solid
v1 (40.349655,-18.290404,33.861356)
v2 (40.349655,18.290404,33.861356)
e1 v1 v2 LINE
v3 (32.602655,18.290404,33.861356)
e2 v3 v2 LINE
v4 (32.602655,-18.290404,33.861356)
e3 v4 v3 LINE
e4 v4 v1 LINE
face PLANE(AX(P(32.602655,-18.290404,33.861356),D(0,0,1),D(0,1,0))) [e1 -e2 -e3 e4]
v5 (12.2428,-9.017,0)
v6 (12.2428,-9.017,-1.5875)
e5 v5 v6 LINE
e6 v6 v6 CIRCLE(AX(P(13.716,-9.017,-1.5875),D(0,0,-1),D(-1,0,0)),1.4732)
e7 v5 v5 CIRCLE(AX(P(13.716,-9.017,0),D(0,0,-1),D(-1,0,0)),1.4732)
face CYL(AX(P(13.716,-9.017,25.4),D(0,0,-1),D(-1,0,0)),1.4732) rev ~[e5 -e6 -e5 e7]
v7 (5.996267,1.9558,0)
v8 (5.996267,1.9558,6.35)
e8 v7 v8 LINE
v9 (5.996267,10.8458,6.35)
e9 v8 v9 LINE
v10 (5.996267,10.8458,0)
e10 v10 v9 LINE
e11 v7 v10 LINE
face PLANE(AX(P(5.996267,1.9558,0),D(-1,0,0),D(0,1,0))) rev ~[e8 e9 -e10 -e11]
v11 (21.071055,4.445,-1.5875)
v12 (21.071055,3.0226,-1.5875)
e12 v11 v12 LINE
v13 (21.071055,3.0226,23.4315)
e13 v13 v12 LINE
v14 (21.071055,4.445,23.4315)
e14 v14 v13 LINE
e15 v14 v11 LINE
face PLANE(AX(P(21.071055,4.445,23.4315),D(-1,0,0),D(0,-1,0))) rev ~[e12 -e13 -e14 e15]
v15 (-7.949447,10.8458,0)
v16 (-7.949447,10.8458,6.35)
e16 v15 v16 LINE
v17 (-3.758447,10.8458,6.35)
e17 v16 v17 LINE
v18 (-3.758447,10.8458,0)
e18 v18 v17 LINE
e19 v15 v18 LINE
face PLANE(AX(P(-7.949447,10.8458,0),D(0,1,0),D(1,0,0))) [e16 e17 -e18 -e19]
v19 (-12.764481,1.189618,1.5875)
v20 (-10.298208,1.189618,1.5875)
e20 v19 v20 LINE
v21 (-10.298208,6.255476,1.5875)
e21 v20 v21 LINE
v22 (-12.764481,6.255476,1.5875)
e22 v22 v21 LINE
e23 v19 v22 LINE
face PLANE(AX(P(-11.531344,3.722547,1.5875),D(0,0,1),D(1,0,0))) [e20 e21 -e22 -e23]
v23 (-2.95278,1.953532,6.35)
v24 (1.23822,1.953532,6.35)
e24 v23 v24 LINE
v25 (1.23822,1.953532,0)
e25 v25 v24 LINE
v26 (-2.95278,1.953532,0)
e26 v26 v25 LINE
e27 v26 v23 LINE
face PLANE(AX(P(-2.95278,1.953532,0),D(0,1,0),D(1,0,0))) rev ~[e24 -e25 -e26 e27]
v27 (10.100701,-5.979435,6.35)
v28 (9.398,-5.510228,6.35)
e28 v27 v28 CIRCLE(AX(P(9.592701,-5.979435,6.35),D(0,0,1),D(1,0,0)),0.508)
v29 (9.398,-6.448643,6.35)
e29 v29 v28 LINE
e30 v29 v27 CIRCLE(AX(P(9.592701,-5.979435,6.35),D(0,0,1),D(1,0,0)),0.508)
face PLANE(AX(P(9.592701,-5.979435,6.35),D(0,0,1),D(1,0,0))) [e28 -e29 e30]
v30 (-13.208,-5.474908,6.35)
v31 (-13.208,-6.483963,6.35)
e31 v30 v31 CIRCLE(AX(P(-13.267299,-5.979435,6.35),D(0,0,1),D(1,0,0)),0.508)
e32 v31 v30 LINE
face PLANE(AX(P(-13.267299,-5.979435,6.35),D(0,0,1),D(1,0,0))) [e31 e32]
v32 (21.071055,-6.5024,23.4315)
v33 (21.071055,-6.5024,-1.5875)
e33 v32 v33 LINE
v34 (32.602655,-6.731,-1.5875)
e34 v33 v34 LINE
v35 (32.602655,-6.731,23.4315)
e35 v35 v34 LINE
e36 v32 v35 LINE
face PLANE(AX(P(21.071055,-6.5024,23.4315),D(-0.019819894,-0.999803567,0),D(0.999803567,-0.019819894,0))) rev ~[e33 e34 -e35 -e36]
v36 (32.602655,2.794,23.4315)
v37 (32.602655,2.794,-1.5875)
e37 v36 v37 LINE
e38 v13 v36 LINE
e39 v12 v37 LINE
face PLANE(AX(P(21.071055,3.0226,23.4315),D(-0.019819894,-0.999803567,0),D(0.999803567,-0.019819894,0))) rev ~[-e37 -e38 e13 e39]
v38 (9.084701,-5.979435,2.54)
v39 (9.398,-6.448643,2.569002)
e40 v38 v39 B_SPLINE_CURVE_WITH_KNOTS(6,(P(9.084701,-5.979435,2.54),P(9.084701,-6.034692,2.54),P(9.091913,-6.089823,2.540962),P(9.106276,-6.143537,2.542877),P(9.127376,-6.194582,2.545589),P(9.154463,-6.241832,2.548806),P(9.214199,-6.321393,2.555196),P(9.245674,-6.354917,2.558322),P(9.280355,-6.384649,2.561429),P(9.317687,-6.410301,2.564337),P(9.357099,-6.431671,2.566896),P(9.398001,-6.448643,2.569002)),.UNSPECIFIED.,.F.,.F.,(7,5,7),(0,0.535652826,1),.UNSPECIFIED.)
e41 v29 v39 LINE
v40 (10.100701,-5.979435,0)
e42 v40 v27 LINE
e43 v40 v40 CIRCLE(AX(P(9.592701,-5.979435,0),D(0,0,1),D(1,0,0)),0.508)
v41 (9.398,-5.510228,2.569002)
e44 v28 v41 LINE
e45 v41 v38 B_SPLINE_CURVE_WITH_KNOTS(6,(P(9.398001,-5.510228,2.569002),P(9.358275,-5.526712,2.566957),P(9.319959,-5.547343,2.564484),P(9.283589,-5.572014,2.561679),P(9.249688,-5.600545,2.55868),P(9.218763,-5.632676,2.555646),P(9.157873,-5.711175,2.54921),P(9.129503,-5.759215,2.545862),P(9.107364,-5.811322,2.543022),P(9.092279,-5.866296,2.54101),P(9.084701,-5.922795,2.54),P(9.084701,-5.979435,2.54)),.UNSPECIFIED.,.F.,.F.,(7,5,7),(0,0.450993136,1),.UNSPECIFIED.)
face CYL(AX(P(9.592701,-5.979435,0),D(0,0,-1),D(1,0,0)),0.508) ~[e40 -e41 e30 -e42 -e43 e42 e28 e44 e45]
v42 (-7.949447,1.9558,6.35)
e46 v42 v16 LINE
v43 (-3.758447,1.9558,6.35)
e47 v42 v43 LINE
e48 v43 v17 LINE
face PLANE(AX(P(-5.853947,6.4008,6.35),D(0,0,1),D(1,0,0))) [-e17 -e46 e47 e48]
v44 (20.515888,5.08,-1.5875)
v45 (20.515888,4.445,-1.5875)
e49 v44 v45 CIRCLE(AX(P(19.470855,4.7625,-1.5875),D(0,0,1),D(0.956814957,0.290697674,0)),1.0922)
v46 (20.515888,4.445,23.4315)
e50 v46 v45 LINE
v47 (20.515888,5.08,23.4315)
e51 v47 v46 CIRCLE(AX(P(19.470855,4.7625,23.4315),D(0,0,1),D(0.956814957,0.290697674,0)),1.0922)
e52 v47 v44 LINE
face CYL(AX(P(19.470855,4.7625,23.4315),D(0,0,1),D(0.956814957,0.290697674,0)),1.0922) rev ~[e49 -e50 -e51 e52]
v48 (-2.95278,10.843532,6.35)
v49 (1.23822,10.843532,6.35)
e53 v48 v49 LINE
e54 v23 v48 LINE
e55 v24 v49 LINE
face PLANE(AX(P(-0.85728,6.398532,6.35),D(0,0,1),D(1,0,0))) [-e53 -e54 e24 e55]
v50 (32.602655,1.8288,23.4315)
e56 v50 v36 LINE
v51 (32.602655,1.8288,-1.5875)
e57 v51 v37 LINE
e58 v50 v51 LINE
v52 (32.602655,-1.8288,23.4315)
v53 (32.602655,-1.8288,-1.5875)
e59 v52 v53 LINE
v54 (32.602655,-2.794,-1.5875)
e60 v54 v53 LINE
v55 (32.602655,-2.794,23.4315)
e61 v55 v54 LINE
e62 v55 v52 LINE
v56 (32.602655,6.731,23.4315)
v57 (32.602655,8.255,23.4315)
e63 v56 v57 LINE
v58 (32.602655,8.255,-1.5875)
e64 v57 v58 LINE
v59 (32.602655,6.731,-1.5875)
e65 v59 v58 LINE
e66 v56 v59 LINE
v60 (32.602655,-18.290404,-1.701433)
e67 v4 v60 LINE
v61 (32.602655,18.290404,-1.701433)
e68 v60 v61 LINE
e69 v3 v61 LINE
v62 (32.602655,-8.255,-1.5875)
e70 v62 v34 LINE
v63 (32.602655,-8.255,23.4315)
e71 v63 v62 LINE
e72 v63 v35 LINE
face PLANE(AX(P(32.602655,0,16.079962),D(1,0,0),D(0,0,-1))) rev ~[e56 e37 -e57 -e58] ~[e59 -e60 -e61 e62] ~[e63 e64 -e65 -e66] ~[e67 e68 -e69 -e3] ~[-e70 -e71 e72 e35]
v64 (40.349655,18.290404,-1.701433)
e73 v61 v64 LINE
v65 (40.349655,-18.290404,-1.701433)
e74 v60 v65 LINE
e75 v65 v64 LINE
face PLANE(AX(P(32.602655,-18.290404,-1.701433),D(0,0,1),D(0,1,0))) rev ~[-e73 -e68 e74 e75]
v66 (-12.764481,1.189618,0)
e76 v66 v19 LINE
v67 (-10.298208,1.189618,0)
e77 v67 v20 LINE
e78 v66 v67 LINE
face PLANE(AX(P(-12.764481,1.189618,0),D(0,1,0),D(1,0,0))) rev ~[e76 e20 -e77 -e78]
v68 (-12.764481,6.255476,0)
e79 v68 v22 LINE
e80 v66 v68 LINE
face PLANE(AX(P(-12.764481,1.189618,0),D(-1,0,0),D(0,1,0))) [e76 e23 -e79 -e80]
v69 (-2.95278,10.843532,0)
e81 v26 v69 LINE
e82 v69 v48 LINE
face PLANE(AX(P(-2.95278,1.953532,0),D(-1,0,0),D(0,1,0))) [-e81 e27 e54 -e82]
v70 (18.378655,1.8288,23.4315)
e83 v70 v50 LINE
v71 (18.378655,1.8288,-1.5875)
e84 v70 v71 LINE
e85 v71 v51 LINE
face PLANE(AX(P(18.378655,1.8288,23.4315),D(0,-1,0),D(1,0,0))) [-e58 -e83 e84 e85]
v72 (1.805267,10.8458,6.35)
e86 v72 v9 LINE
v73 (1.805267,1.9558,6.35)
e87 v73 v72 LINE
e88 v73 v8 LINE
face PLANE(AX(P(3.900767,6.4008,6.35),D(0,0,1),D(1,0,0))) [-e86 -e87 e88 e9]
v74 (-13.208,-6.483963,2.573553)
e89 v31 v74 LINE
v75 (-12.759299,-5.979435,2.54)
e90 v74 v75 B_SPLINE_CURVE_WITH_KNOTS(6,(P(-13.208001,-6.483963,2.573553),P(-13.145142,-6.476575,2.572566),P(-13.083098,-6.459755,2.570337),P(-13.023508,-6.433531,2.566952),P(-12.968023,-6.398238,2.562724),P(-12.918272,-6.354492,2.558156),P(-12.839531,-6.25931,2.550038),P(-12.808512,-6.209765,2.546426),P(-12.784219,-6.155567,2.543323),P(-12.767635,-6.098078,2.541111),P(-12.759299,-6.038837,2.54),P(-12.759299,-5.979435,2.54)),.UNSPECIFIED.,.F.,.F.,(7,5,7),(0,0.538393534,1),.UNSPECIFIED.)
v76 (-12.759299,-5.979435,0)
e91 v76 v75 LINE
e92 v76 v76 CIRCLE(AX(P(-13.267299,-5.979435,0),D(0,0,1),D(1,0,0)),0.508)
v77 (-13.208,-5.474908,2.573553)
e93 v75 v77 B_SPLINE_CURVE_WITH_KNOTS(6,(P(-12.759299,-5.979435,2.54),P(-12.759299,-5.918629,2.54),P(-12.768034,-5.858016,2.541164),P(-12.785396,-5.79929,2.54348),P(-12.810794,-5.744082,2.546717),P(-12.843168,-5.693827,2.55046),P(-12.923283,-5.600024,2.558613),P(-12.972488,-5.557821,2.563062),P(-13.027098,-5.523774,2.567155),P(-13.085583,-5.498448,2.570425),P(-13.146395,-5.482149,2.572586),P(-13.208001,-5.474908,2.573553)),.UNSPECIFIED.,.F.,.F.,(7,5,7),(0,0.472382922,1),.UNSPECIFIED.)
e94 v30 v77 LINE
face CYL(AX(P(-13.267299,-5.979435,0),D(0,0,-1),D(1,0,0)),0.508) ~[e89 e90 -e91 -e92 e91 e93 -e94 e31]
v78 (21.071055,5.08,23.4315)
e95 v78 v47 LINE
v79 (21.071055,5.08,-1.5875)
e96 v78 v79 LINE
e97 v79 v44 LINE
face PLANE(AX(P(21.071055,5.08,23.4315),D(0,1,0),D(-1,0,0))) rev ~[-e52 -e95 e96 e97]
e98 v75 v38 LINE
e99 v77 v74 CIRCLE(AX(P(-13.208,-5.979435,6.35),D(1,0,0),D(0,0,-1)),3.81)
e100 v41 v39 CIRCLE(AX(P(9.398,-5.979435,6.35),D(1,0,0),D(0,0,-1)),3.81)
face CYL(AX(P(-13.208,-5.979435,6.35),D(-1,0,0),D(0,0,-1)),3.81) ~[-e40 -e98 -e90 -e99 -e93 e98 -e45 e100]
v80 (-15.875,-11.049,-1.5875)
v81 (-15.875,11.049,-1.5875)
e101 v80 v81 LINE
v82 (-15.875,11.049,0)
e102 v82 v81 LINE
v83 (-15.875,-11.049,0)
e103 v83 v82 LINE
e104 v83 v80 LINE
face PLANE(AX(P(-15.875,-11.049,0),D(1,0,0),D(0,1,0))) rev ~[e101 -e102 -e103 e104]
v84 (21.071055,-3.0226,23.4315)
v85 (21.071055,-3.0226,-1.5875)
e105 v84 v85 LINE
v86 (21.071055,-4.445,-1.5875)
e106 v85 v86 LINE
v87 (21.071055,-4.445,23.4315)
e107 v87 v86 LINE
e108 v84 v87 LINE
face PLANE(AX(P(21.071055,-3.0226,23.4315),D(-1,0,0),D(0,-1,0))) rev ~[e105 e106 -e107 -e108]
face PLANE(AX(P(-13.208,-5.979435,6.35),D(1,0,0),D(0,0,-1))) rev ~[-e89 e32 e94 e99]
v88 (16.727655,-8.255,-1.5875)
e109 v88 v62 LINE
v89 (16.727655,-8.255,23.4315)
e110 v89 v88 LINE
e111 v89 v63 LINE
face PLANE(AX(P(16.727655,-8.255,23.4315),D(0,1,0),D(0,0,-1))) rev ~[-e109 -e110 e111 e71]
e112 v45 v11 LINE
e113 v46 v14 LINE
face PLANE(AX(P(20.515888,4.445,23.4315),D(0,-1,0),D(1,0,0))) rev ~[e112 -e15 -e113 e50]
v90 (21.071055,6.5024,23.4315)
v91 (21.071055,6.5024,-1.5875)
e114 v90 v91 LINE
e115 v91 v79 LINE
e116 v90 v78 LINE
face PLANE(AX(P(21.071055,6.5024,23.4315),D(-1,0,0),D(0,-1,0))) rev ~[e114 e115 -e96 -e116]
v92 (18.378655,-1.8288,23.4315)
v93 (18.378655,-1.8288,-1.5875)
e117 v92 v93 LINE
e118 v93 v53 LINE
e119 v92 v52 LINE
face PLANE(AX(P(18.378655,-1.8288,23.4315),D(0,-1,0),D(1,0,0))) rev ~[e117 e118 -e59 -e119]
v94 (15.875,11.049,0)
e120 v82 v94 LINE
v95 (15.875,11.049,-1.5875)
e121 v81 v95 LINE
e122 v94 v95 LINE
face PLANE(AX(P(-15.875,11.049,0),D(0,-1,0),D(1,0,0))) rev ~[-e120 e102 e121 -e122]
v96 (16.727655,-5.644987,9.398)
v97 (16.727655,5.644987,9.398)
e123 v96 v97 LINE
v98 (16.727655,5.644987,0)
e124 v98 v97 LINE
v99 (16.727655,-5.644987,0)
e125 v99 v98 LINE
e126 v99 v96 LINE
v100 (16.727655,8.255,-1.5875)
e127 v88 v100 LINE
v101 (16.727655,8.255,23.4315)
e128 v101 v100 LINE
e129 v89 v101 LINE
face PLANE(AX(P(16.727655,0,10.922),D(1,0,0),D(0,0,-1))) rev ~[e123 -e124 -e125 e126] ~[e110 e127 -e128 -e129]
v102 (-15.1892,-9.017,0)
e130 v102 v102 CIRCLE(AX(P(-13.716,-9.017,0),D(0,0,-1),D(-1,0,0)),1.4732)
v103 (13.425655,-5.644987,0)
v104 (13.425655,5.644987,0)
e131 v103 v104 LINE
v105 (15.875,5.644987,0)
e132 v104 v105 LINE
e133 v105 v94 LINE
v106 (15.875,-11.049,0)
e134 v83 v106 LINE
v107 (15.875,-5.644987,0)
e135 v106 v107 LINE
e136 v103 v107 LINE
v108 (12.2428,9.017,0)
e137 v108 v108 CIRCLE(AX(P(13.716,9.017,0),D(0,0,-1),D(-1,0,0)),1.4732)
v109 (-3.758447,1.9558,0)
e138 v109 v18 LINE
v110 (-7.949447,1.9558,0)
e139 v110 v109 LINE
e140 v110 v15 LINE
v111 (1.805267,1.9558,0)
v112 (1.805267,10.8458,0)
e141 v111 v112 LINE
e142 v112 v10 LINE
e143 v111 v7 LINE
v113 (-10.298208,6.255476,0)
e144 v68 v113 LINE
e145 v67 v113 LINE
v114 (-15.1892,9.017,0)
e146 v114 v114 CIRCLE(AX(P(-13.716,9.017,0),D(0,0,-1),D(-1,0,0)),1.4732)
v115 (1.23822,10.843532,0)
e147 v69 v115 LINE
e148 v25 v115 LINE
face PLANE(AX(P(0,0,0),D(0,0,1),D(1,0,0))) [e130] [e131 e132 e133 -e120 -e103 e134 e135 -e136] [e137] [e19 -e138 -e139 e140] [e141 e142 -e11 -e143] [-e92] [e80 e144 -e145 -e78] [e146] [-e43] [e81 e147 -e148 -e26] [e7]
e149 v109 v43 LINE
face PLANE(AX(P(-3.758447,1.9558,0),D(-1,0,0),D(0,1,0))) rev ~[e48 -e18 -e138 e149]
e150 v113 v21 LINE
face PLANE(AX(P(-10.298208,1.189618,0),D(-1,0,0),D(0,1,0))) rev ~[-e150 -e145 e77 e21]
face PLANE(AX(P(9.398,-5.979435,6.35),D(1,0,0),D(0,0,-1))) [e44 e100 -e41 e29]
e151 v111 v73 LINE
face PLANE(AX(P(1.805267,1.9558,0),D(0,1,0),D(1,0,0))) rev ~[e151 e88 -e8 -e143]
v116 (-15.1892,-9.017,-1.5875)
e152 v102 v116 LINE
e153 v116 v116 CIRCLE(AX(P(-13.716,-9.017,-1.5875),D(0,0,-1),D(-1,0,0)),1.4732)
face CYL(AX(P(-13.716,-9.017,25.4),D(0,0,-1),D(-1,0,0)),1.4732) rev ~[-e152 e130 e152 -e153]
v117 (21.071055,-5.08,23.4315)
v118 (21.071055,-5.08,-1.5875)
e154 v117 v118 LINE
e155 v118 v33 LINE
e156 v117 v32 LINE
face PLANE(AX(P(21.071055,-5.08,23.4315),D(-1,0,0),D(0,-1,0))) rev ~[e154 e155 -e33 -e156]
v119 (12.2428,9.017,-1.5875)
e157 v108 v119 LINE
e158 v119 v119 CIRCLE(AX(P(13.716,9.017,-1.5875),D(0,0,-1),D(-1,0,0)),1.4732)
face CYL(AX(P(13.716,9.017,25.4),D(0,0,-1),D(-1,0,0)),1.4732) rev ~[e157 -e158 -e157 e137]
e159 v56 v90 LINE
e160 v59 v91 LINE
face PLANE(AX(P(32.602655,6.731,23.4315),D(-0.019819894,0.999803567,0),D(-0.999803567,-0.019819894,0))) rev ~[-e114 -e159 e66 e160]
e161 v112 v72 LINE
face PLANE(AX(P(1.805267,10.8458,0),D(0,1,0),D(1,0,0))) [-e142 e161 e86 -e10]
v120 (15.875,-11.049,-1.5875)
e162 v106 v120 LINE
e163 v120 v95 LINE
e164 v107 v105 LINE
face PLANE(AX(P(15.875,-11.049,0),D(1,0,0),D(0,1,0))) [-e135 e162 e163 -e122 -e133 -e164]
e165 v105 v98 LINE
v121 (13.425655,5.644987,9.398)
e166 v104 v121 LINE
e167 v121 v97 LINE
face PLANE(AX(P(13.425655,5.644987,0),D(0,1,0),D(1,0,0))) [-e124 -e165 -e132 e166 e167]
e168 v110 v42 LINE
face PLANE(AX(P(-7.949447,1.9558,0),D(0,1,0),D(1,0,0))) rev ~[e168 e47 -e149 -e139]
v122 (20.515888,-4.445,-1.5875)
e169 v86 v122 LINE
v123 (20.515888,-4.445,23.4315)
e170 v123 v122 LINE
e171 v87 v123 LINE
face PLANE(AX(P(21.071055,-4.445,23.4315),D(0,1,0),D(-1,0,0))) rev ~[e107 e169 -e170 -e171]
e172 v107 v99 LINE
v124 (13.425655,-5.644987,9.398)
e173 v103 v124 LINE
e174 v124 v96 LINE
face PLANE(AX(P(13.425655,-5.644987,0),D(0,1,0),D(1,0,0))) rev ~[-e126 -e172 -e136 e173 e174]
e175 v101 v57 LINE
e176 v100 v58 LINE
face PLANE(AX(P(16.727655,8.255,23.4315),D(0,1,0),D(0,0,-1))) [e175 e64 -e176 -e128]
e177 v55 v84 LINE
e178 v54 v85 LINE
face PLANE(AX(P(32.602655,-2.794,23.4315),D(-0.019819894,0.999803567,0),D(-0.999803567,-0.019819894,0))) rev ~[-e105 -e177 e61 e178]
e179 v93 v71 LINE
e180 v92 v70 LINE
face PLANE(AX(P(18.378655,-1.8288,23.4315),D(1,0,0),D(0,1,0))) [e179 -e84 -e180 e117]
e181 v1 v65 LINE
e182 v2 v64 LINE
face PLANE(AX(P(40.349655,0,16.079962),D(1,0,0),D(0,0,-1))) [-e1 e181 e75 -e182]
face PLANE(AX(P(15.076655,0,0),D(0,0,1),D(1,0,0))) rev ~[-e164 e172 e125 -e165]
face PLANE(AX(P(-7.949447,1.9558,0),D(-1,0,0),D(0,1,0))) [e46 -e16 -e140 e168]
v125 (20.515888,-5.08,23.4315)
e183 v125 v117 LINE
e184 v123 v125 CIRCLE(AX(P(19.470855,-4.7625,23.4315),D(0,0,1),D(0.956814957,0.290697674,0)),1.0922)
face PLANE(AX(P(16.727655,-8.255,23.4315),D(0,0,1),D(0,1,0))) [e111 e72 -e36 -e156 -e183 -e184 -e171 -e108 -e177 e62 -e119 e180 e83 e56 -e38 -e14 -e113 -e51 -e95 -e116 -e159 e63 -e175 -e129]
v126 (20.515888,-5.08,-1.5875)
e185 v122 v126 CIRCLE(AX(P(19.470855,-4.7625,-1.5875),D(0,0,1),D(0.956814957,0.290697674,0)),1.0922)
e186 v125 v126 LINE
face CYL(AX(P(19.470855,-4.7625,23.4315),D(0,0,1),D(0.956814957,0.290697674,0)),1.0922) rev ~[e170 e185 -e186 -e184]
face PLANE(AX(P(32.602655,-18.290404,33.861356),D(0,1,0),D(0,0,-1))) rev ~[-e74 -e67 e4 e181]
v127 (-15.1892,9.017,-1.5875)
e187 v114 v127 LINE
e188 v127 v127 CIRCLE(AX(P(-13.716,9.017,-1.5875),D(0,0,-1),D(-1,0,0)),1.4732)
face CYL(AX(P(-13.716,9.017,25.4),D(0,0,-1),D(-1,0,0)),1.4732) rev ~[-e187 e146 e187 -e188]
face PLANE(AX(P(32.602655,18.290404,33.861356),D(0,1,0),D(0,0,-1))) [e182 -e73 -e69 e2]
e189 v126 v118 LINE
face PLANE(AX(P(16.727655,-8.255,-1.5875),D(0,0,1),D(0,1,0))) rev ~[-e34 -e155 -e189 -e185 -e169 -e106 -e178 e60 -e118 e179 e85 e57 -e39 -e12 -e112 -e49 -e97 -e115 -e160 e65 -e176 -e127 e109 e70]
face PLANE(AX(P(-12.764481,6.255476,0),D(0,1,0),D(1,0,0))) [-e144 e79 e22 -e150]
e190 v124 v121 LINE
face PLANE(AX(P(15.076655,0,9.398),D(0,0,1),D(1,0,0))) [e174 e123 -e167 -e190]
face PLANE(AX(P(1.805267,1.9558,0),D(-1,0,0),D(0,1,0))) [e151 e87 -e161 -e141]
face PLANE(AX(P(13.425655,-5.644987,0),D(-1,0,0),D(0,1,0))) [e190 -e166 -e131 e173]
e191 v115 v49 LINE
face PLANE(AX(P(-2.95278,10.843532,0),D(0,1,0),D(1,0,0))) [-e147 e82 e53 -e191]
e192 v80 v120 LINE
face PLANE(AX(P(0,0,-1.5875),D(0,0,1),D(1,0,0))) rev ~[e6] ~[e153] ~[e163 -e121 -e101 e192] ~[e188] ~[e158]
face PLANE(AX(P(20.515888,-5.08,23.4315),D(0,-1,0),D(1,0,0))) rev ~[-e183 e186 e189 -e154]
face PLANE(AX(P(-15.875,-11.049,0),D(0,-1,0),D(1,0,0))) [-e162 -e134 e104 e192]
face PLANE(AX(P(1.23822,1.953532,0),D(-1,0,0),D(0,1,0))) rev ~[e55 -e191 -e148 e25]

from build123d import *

# Parameters (mm, degrees)
SKETCH1_W                       = 31.75
SKETCH1_H                       = 22.098
BOSS_EXTRUDE1_DEPTH             = 1.5875
F_32_0_116_DIAMETER_HOLE1_D     = 2.9464
F_32_0_116_DIAMETER_HOLE1_DEPTH = 25.4
F_32_0_116_DIAMETER_HOLE1_TIP   = 0.885187864
SKETCH4_W                       = 4.191
SKETCH4_H                       = 8.89
BOSS_EXTRUDE2_DEPTH             = 6.35
SKETCH4_3_W                     = 2.466272753
SKETCH4_3_H                     = 5.065857547
BOSS_EXTRUDE3_DEPTH             = 1.5875
SKETCH4_4_R                     = 0.508
BOSS_EXTRUDE4_DEPTH             = 6.35
BOSS_EXTRUDE5_DEPTH             = 9.398
BOSS_EXTRUDE5_DEPTH_BACK        = 13.208
SKETCH5_R                       = 3.81
SKETCH6_W                       = 3.302
SKETCH6_H                       = 11.289974084
BOSS_EXTRUDE6_DEPTH             = 9.398
SKETCH8_W                       = 25.019
SKETCH8_H                       = 16.51
BOSS_EXTRUDE7_DEPTH             = 15.875
SKETCH9_W                       = 14.224
SKETCH9_H                       = 3.6576
CUT_EXTRUDE1_DEPTH              = 43.555420887
SKETCH10_W                      = 35.562788841
SKETCH10_H                      = 36.580807606
BOSS_EXTRUDE8_DEPTH             = 7.747


with BuildPart() as part:
    # Sketch1 → Boss-Extrude1 (new body)
    with BuildSketch(Plane.XY):
        Rectangle(SKETCH1_W, SKETCH1_H)
    extrude(amount=-BOSS_EXTRUDE1_DEPTH)

    # #32 (0.116) Diameter Hole1
    with Locations(Plane.XY):
        with Locations((-13.716, 9.017), (13.716, -9.017), (13.716, 9.017), (-13.716, -9.017)):
            Hole(F_32_0_116_DIAMETER_HOLE1_D / 2, depth=F_32_0_116_DIAMETER_HOLE1_DEPTH)
            with Locations((0, 0, -(F_32_0_116_DIAMETER_HOLE1_DEPTH + F_32_0_116_DIAMETER_HOLE1_TIP / 2))):  # 118° drill point
                Cone(0, F_32_0_116_DIAMETER_HOLE1_D / 2, F_32_0_116_DIAMETER_HOLE1_TIP, mode=Mode.SUBTRACT)

    # Sketch4 → Boss-Extrude2 (add)
    with BuildSketch(Plane.XY):
        with Locations((-0.857280044, 6.398532258)):
            Rectangle(SKETCH4_W, SKETCH4_H)
        with Locations((-5.853947096, 6.4008)):
            Rectangle(SKETCH4_W, SKETCH4_H)
        with Locations((3.90076693, 6.4008)):
            Rectangle(SKETCH4_W, SKETCH4_H)
    extrude(amount=BOSS_EXTRUDE2_DEPTH)

    # Sketch4<3> → Boss-Extrude3 (add)
    with BuildSketch(Plane.XY):
        with Locations((-11.531344325, 3.722546838)):
            Rectangle(SKETCH4_3_W, SKETCH4_3_H)
    extrude(amount=BOSS_EXTRUDE3_DEPTH)

    # Sketch4<4> → Boss-Extrude4 (add)
    with BuildSketch(Plane.XY):
        with Locations((9.592700785, -5.979435424)):
            Circle(SKETCH4_4_R)
        with Locations((-13.267299215, -5.979435424)):
            Circle(SKETCH4_4_R)
    extrude(amount=BOSS_EXTRUDE4_DEPTH)

    # Sketch5 → Boss-Extrude5 (add, two sides: drawn at the far end of the back side and taken through both)
    with BuildSketch(Plane(origin=(0, 0, 0), x_dir=(0, 0, -1), z_dir=(1, 0, 0)).offset(-BOSS_EXTRUDE5_DEPTH_BACK)):
        with Locations((-6.35, -5.979435424)):
            Circle(SKETCH5_R)
    extrude(amount=BOSS_EXTRUDE5_DEPTH + BOSS_EXTRUDE5_DEPTH_BACK)

    # Sketch6 → Boss-Extrude6 (add)
    with BuildSketch(Plane.XY):
        with Locations((15.076654567, 0)):
            Rectangle(SKETCH6_W, SKETCH6_H)
    extrude(amount=BOSS_EXTRUDE6_DEPTH)

    # Sketch8 → Boss-Extrude7 (add)
    with BuildSketch(Plane(origin=(16.727654567, 0, 0), x_dir=(0, 0, -1), z_dir=(1, 0, 0))):
        with Locations((-10.922, 0)):
            Rectangle(SKETCH8_W, SKETCH8_H)
    extrude(amount=BOSS_EXTRUDE7_DEPTH)

    # Sketch9 → Cut-Extrude1 (cut, through all)
    with BuildSketch(Plane.XY.offset(23.4315)):
        with BuildLine():
            Line((21.071054567, 3.0226), (32.602654567, 2.794))
            Line((32.602654567, 2.794), (32.602654567, 6.731))
            Line((32.602654567, 6.731), (21.071054567, 6.5024))
            Line((21.071054567, 6.5024), (21.071054567, 5.08))
            Line((21.071054567, 5.08), (20.515887863, 5.08))
            ThreePointArc((20.515887863, 5.08), (18.378654567, 4.7625), (20.515887863, 4.445))
            Line((20.515887863, 4.445), (21.071054567, 4.445))
            Line((21.071054567, 4.445), (21.071054567, 3.0226))
        make_face()
        with BuildLine():
            Line((32.602654567, -6.731), (32.602654567, -2.794))
            Line((32.602654567, -2.794), (21.071054567, -3.0226))
            Line((21.071054567, -3.0226), (21.071054567, -4.445))
            Line((21.071054567, -4.445), (20.515887863, -4.445))
            ThreePointArc((20.515887863, -4.445), (18.378654567, -4.7625), (20.515887863, -5.08))
            Line((20.515887863, -5.08), (21.071054567, -5.08))
            Line((21.071054567, -5.08), (21.071054567, -6.5024))
            Line((21.071054567, -6.5024), (32.602654567, -6.731))
        make_face()
        with Locations((25.490654567, 0)):
            Rectangle(SKETCH9_W, SKETCH9_H)
    extrude(amount=-CUT_EXTRUDE1_DEPTH, mode=Mode.SUBTRACT)

    # Sketch10 → Boss-Extrude8 (add)
    with BuildSketch(Plane(origin=(32.602654567, 0, 0), x_dir=(0, 0, -1), z_dir=(1, 0, 0))):
        with Locations((-16.07996174, 0)):
            Rectangle(SKETCH10_W, SKETCH10_H)
    extrude(amount=BOSS_EXTRUDE8_DEPTH)


solid = part.part
